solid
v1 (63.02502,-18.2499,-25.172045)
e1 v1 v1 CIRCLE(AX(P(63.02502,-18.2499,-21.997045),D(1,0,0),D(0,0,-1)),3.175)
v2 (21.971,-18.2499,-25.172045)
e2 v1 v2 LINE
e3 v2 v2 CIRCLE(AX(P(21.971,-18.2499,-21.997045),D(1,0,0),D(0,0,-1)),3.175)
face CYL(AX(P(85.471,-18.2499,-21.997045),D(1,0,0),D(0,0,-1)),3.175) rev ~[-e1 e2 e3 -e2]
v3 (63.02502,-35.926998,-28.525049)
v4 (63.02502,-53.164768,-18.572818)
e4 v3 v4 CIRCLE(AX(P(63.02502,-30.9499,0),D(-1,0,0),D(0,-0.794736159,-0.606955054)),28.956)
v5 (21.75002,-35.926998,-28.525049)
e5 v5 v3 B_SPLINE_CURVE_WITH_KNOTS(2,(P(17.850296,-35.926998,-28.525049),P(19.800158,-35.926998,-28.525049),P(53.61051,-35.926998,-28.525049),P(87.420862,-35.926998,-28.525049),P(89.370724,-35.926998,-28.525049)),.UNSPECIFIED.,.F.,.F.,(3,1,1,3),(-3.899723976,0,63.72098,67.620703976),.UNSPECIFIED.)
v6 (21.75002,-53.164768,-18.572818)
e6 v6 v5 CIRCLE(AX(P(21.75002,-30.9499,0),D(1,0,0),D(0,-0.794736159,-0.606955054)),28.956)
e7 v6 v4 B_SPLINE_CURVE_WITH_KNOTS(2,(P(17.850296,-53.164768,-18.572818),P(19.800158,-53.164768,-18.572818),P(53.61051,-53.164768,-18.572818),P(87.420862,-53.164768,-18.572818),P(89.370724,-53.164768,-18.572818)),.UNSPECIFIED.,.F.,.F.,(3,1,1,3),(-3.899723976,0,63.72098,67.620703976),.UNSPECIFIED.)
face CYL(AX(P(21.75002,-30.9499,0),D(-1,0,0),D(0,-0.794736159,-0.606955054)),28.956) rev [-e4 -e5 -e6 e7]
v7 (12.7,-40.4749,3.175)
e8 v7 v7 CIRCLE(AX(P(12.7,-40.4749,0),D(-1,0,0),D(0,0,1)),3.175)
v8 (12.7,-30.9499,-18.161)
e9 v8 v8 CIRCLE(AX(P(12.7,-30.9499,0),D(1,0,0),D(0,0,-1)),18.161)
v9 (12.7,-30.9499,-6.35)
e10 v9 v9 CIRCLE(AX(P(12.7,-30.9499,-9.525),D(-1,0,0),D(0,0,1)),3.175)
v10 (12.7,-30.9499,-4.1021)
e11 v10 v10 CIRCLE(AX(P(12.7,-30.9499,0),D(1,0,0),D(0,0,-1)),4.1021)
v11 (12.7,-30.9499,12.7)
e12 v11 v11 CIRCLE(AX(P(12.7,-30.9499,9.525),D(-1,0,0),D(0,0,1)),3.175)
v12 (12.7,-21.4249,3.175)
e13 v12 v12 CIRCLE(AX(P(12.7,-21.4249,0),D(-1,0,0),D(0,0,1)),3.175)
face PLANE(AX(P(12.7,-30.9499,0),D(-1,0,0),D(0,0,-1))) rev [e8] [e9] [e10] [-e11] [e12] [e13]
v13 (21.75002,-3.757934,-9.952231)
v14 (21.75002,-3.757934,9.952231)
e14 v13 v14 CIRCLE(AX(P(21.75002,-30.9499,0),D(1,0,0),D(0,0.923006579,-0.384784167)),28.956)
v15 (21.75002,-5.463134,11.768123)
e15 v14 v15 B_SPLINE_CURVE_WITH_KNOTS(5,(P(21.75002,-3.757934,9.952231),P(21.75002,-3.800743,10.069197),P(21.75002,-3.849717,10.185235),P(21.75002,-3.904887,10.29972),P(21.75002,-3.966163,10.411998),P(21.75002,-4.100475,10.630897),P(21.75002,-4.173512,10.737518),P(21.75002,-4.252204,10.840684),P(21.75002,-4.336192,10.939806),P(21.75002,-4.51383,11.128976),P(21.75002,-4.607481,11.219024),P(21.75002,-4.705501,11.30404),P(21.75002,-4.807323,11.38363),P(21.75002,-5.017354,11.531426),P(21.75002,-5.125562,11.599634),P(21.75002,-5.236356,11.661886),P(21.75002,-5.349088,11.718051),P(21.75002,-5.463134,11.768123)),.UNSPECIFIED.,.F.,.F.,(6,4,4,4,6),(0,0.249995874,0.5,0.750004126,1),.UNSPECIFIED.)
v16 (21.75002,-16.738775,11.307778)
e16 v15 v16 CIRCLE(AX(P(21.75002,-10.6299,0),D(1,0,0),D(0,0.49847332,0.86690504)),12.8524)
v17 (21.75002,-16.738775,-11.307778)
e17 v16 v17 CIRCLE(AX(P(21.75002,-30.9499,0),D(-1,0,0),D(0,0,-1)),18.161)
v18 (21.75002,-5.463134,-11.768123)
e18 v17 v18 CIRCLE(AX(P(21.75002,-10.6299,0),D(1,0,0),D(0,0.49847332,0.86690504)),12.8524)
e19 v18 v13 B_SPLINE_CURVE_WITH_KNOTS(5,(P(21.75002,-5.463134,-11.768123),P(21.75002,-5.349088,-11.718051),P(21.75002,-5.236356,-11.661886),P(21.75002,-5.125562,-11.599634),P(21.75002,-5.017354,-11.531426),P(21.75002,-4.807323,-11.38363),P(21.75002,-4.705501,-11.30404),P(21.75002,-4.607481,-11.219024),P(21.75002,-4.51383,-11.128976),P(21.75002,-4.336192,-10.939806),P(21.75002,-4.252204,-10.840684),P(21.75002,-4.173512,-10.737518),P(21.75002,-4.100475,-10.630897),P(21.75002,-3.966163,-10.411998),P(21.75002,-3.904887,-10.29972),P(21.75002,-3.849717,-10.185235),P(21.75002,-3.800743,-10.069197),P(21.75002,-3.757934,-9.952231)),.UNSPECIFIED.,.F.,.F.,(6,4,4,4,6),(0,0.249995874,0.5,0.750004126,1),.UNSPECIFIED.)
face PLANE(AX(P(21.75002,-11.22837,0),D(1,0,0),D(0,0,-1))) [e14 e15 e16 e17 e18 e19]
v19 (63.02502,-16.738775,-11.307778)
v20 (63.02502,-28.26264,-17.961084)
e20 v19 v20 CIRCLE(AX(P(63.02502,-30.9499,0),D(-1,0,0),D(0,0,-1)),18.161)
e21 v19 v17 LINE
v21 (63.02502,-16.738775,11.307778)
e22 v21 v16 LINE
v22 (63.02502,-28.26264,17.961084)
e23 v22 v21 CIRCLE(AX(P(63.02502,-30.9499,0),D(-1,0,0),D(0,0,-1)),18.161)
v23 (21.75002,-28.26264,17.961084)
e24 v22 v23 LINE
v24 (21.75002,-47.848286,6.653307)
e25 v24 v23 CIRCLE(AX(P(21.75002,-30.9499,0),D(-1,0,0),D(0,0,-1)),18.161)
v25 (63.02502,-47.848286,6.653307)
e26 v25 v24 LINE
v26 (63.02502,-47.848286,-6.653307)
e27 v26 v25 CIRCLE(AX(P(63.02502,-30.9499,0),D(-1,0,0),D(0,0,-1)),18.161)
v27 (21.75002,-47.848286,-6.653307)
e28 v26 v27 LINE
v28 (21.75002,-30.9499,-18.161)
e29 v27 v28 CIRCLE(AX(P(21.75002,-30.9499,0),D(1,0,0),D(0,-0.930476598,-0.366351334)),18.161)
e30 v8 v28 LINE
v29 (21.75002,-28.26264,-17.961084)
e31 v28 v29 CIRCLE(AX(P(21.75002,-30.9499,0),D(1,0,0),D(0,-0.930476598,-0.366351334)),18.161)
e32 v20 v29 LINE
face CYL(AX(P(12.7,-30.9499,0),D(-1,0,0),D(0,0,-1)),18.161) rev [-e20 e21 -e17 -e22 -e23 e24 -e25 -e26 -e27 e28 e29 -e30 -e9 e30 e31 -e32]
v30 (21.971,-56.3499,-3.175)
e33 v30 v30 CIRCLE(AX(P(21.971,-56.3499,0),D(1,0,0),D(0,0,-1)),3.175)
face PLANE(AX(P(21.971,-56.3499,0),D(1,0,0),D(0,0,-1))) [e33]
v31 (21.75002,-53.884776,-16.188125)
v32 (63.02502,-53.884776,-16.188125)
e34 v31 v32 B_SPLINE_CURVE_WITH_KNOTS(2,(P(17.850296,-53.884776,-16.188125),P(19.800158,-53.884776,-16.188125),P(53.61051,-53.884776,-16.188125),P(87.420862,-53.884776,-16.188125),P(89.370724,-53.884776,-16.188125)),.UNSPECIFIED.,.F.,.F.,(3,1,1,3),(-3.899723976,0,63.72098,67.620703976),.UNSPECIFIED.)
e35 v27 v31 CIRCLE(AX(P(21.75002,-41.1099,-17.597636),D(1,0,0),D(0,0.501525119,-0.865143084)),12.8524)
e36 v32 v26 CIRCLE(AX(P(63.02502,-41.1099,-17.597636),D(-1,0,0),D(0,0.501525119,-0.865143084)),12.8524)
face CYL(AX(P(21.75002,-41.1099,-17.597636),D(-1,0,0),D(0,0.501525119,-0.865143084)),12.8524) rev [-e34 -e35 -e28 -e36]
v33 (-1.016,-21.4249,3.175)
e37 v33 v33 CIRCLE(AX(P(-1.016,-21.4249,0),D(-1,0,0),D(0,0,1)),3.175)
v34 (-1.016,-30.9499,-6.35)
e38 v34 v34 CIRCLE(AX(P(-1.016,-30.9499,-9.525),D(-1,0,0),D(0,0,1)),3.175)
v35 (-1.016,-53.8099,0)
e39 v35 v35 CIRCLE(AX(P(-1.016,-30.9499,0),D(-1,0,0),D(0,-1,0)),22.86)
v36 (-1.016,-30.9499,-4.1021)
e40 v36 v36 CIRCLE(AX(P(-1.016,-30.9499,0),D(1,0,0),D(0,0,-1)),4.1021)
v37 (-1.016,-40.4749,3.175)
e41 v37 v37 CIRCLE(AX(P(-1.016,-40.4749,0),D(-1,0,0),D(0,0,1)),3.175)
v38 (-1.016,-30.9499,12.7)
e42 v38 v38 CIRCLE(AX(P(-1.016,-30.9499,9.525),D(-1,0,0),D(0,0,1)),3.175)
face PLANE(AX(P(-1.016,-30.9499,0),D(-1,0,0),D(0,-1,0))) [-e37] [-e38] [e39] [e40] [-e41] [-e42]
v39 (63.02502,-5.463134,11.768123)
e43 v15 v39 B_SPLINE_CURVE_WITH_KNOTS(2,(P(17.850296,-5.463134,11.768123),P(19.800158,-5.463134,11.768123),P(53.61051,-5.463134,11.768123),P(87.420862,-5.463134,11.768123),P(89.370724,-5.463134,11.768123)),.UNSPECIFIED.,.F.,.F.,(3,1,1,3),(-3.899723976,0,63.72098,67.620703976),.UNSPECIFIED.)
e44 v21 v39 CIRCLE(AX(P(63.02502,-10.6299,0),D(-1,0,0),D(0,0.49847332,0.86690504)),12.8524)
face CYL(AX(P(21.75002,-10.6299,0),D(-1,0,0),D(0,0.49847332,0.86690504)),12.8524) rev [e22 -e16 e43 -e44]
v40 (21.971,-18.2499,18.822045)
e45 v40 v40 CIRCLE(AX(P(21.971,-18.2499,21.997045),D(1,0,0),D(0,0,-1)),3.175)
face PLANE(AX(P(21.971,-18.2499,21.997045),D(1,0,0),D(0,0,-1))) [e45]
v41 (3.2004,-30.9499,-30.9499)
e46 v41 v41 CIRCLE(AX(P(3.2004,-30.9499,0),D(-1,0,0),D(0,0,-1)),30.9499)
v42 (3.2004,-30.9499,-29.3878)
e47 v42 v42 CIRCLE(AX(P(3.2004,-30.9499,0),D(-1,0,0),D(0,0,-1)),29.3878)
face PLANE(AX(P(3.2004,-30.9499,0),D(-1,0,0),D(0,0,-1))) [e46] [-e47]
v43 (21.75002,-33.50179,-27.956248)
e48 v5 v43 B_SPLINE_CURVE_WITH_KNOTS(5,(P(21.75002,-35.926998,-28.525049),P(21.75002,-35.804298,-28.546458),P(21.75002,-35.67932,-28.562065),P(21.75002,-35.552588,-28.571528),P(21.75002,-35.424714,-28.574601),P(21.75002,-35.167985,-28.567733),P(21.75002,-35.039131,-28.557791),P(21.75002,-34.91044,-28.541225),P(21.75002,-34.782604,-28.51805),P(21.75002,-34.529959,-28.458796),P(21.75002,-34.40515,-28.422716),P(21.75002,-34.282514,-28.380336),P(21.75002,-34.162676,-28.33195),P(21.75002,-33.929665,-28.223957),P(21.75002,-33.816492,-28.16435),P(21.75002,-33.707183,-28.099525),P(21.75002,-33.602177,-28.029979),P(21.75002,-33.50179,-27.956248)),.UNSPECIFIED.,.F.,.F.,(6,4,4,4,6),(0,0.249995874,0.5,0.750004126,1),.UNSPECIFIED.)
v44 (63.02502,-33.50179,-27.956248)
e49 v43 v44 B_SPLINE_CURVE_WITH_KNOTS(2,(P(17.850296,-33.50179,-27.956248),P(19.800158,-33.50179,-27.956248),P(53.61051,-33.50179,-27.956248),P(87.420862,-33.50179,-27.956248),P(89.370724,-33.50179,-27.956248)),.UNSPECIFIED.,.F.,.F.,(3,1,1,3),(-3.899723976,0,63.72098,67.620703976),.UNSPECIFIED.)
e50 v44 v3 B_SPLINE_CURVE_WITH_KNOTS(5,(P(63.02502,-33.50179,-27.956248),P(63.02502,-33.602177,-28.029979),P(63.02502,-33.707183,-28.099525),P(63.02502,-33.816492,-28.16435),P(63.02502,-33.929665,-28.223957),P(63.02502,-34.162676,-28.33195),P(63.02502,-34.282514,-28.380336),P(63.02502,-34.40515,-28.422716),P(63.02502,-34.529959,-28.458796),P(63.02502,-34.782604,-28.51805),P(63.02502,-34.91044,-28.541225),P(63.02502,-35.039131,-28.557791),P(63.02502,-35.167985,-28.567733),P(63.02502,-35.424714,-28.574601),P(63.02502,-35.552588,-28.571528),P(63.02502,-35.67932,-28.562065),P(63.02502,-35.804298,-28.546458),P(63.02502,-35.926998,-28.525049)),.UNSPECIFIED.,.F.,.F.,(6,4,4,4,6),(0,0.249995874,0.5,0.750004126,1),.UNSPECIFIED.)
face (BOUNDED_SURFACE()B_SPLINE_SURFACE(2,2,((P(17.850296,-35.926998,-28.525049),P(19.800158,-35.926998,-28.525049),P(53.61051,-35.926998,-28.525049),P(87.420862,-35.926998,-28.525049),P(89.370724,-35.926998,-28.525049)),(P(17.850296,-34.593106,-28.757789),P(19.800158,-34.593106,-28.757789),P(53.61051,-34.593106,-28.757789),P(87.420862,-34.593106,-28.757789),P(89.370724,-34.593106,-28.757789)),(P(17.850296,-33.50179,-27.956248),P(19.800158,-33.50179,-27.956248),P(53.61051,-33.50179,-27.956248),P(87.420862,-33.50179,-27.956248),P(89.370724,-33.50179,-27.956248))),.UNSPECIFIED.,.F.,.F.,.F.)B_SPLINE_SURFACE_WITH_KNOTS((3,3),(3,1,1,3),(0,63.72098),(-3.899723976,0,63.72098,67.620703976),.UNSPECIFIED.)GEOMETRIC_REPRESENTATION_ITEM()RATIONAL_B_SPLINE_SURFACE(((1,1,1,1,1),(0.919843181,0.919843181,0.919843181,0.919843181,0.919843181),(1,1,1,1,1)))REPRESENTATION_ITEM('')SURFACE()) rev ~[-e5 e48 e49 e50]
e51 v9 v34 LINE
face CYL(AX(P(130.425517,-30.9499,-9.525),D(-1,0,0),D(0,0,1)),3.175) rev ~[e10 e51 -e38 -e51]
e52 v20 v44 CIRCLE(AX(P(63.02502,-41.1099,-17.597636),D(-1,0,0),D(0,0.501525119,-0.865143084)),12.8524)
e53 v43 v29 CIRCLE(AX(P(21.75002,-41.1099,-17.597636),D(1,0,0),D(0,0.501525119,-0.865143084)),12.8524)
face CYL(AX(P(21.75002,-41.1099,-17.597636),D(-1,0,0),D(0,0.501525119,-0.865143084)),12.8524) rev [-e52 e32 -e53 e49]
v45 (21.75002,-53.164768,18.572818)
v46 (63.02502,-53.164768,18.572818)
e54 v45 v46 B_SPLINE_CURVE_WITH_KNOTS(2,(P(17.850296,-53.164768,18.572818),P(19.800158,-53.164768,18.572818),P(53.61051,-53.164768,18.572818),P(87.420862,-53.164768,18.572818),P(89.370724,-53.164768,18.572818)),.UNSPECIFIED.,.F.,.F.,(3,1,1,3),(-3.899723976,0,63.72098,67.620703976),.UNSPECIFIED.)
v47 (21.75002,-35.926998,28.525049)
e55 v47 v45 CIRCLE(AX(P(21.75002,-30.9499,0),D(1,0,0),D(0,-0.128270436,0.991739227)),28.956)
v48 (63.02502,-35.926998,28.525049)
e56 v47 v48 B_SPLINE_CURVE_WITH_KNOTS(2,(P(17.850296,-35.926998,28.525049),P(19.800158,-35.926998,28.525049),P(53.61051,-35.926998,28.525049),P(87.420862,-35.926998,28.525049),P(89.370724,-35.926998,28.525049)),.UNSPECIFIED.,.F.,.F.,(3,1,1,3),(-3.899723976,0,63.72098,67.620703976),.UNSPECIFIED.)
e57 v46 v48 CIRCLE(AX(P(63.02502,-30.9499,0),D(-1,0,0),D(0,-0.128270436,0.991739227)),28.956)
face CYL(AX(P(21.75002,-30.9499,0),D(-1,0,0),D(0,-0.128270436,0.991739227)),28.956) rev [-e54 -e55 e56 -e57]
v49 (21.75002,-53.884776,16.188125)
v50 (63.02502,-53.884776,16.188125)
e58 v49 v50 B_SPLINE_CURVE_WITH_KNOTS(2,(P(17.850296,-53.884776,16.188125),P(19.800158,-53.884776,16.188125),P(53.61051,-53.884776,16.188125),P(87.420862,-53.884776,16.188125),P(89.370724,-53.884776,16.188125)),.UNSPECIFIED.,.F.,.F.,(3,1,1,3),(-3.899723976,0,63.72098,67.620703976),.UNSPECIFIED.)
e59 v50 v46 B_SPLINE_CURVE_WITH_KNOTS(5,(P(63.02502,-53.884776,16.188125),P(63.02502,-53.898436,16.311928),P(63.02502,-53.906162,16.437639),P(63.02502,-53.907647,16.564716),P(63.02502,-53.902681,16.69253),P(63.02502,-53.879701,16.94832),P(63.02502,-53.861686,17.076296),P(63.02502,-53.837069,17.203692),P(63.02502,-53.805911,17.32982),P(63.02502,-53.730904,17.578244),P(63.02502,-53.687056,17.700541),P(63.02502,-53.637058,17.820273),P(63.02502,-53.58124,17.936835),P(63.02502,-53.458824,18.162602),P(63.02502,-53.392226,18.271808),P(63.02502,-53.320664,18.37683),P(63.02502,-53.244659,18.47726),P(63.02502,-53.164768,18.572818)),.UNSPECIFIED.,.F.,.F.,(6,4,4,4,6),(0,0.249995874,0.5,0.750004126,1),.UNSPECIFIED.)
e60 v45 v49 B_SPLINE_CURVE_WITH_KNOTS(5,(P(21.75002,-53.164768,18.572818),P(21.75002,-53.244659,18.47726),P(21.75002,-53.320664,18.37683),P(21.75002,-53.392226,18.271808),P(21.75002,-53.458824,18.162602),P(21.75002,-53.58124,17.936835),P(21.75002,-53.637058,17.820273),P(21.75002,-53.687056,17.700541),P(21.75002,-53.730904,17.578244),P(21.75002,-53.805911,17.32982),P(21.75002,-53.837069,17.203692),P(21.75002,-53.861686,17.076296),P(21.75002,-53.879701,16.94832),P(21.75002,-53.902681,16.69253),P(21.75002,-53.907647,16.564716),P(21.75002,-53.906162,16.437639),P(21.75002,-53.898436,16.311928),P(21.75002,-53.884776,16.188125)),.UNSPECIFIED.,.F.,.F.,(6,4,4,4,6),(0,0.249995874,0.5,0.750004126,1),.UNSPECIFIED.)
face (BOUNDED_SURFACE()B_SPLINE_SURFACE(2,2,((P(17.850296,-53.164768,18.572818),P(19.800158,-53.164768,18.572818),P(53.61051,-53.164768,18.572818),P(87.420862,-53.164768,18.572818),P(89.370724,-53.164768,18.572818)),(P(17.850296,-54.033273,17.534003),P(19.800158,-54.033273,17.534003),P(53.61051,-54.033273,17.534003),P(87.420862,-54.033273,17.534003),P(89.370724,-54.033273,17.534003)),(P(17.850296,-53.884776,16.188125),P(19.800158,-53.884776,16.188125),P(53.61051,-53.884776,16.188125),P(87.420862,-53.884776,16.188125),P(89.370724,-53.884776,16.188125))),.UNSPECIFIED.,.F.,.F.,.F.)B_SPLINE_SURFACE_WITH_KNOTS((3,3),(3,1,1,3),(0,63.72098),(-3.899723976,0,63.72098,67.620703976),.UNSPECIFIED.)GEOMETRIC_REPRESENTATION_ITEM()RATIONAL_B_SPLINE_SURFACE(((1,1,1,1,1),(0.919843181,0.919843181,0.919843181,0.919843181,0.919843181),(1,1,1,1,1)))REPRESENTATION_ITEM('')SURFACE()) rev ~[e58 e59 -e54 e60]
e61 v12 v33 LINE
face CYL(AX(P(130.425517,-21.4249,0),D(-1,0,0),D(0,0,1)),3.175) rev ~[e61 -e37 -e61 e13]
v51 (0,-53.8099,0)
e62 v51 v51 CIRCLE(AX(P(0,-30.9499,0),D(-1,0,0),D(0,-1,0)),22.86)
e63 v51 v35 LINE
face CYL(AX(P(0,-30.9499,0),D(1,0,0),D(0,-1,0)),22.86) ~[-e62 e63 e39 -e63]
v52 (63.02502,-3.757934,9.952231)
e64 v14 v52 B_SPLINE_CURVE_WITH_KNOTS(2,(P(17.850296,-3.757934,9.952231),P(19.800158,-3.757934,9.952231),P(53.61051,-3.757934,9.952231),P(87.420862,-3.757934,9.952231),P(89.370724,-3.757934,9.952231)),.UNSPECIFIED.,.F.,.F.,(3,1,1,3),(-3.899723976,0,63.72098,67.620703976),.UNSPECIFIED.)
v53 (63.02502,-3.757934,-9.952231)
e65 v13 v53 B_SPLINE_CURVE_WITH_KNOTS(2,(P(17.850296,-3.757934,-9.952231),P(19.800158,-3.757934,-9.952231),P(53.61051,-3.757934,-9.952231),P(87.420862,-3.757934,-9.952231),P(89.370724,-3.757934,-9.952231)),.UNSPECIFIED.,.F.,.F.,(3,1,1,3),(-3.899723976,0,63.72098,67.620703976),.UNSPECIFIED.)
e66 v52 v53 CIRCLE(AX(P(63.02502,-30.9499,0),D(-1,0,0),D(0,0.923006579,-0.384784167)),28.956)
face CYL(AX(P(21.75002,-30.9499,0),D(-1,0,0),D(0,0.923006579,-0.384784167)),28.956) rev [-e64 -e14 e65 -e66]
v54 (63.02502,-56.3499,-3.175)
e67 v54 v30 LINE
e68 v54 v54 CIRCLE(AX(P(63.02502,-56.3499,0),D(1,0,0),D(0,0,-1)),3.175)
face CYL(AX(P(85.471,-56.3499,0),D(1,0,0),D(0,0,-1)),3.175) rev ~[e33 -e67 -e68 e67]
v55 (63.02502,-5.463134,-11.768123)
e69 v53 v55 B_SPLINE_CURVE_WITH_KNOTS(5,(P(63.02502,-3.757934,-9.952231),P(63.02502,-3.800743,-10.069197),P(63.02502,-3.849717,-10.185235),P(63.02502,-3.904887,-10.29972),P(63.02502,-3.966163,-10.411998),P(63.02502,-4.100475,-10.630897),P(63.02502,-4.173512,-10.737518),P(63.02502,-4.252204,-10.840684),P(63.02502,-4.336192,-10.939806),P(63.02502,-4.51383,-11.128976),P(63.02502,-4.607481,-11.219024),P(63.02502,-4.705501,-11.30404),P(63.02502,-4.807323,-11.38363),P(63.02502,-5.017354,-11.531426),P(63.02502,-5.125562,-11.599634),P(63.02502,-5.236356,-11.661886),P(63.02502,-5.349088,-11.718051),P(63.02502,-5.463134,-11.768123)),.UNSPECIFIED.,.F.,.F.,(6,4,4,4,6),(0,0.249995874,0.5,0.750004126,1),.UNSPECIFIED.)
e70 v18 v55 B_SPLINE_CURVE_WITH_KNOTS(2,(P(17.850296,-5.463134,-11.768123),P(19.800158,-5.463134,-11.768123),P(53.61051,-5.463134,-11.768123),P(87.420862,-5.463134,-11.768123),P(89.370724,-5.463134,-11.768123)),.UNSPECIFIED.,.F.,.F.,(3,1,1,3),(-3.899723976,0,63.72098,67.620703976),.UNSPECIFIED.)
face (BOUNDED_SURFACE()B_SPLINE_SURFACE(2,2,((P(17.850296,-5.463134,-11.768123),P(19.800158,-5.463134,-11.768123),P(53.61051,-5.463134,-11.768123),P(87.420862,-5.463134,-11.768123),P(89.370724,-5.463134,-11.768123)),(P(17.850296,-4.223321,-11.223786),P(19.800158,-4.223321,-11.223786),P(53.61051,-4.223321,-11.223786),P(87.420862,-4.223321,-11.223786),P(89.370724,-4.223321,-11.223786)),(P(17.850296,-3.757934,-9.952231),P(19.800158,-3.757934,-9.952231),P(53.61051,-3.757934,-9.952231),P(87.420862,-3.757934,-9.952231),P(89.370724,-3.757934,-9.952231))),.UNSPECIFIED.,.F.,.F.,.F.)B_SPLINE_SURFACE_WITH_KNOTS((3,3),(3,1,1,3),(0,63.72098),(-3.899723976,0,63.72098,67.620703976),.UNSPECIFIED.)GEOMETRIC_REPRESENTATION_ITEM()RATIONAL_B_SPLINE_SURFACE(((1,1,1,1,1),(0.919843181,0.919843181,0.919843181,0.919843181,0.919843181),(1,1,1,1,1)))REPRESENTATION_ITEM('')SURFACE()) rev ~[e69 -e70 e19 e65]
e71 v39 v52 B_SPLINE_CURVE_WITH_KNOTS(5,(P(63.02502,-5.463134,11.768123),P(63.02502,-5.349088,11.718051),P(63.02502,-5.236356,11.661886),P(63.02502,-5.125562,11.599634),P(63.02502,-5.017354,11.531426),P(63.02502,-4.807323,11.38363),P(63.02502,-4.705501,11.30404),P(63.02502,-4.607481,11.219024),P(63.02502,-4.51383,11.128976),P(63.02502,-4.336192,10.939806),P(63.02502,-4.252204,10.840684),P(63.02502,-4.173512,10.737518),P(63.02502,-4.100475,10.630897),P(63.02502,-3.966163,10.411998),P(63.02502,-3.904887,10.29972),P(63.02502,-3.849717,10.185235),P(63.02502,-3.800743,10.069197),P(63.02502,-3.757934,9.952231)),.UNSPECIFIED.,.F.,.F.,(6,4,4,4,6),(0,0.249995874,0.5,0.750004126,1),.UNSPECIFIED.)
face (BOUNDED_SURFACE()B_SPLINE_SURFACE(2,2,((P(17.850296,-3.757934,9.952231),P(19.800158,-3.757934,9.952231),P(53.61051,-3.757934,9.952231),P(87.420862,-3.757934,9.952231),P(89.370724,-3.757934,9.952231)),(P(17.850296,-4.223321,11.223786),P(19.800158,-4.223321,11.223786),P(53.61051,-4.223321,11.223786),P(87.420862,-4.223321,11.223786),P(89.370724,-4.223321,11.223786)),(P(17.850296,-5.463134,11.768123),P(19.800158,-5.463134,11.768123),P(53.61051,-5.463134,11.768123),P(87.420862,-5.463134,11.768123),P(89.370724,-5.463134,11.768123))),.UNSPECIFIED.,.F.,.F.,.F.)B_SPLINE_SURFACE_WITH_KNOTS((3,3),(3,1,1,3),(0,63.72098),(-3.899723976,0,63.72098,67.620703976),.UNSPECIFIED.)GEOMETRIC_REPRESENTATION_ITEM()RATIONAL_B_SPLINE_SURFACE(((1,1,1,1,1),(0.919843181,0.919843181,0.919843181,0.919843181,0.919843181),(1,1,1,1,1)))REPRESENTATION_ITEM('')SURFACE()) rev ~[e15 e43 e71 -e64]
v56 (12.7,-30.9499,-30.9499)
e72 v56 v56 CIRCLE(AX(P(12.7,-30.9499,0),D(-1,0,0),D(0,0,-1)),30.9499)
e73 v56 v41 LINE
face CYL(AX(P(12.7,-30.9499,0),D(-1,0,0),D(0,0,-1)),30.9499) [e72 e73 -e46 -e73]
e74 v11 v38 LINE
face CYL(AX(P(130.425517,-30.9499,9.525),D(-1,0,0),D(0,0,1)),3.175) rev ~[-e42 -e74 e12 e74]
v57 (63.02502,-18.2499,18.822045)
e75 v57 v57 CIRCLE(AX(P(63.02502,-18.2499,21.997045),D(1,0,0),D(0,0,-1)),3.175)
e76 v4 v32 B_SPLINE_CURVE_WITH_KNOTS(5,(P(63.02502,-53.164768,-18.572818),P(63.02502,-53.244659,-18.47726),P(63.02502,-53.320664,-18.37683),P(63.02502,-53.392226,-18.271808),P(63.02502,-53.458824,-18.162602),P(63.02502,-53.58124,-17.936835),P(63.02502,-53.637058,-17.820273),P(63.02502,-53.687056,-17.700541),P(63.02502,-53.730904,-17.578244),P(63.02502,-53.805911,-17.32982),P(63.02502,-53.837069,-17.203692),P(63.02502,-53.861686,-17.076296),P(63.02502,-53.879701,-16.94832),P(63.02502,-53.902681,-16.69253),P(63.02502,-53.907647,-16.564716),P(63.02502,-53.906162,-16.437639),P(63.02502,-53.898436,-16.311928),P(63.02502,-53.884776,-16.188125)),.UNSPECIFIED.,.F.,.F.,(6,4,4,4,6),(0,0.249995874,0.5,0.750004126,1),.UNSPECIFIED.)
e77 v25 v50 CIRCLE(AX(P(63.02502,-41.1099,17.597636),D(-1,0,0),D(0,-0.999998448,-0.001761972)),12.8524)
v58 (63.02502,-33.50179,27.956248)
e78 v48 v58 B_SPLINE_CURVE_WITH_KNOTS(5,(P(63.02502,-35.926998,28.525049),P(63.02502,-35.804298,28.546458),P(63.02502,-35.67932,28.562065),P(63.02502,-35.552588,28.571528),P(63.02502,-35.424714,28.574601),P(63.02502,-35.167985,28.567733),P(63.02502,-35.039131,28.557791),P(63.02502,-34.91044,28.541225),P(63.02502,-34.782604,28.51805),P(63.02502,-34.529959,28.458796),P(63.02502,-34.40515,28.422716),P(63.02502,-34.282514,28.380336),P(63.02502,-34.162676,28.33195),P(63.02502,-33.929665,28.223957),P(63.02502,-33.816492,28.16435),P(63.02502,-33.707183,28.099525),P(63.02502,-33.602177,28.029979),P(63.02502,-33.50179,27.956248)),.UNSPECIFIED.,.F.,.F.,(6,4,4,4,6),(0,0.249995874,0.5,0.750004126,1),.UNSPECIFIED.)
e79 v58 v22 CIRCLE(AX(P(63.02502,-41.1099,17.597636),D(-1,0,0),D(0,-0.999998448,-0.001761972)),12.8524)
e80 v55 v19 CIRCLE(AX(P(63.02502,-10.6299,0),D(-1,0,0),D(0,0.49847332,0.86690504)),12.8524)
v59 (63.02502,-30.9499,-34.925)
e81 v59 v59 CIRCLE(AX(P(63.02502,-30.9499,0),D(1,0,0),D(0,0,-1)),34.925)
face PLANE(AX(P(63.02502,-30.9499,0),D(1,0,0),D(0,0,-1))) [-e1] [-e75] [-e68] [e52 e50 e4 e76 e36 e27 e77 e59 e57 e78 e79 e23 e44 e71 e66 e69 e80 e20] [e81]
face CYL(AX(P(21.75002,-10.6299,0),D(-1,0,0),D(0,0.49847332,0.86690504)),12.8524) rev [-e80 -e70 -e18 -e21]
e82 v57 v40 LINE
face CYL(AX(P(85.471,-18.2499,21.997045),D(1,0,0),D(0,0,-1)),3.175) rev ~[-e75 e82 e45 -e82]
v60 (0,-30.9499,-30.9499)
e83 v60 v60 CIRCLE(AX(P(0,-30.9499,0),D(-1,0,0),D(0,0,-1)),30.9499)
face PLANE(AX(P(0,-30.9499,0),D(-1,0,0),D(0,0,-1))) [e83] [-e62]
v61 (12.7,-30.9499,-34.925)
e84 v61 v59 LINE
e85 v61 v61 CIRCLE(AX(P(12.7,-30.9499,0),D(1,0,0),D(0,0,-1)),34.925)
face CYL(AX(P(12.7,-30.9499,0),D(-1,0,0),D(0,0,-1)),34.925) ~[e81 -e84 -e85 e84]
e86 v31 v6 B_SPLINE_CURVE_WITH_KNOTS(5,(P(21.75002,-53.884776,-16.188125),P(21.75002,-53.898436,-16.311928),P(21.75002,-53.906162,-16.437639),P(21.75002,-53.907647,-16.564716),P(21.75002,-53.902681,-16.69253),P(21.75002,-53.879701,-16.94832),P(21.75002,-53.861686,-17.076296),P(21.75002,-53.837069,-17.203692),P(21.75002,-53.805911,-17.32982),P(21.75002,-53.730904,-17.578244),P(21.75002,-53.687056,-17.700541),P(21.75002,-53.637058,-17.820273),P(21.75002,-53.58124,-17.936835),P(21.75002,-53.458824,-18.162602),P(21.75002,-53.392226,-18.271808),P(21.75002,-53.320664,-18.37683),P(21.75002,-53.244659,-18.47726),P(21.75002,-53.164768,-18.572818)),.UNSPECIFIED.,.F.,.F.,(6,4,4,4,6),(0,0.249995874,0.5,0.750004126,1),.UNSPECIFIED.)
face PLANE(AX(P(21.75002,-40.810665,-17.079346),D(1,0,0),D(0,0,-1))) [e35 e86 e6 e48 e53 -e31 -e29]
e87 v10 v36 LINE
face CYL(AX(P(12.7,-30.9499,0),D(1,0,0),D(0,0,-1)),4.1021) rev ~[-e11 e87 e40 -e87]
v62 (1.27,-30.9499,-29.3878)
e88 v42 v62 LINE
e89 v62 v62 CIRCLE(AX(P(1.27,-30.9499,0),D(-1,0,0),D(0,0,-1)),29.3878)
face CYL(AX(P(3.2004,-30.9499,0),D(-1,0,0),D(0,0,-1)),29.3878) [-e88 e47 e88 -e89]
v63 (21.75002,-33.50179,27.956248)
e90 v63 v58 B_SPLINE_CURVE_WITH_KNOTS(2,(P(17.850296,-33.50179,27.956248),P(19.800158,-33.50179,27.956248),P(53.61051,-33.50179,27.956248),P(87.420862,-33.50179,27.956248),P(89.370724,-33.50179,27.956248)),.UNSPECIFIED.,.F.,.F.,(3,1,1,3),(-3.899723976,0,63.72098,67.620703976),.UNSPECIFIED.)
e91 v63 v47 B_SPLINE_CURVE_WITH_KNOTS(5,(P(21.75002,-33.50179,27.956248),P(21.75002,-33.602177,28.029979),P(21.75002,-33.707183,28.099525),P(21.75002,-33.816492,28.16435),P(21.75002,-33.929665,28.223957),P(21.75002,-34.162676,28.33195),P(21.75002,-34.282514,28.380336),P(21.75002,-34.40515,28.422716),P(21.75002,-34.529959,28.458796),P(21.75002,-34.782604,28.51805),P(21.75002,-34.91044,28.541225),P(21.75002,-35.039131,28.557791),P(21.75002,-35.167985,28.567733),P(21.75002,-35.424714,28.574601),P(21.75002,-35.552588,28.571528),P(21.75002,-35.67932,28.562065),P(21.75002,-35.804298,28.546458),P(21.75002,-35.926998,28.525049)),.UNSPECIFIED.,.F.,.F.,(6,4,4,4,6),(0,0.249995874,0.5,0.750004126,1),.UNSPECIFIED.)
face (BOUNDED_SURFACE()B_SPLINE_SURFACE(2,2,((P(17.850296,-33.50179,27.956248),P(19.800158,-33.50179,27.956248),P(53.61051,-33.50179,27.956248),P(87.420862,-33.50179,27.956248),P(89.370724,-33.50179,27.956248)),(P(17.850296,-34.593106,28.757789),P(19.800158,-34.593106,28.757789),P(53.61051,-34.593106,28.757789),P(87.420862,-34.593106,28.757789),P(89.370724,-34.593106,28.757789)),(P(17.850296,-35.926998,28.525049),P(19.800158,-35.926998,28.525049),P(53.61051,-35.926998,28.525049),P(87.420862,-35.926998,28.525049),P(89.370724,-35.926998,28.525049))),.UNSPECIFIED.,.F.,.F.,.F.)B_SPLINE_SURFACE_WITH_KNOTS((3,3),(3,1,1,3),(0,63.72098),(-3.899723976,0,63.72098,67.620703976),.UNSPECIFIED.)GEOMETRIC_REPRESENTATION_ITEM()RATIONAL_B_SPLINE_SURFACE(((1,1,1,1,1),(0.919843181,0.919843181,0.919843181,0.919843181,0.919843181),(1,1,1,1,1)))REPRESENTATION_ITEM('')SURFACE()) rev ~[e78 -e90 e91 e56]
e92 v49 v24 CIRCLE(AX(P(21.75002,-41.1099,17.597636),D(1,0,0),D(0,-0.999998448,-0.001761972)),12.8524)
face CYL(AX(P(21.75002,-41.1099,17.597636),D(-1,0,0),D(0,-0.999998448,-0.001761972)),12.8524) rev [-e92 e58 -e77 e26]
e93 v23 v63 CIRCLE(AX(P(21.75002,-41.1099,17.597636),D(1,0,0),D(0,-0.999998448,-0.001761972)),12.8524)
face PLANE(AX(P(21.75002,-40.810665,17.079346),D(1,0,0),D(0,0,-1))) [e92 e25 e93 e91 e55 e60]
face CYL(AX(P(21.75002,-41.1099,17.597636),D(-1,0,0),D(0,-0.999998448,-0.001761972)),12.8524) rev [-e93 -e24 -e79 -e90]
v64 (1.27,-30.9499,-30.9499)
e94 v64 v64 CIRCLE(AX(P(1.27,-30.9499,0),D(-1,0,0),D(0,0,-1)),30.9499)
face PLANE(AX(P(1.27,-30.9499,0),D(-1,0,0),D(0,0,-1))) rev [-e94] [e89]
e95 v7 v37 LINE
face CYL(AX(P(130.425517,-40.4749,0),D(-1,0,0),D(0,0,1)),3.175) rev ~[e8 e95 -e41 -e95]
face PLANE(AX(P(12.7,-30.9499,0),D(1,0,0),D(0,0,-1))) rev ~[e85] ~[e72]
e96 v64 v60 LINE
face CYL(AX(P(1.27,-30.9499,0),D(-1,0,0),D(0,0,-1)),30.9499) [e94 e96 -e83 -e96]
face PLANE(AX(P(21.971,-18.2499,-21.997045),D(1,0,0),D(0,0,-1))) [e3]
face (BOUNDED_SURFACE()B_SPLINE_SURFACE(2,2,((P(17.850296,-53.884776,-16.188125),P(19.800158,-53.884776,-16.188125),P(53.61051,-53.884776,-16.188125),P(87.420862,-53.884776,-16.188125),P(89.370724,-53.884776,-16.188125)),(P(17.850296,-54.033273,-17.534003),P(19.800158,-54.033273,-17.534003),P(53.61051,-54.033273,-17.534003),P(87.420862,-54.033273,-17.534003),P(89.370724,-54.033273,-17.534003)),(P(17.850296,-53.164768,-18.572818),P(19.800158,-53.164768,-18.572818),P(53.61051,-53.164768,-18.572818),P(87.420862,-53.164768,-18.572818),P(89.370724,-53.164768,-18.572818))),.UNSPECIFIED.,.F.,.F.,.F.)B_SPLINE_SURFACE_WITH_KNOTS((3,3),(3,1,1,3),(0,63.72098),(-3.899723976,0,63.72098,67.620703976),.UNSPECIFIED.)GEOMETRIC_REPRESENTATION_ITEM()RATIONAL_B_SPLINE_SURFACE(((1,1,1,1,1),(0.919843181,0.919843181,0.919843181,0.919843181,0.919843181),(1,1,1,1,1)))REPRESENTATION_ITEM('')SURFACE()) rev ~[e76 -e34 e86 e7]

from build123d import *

# Parameters (mm, degrees)
SKETCH4_R                  = 34.925
SKETCH4_R_2                = 18.161
BOSS_EXTRUDE1_DEPTH        = 72.771
CUT_EXTRUDE2_REACH         = 137.172
CUT_EXTRUDE2_START         = 21.75002
TRIPOD_WALLS_R             = 3.175
SKETCH12_R                 = 3.175
CUT_EXTRUDE3_DEPTH         = 63.5
CUT_EXTRUDE4_START         = -22.44598
SKETCH13_R                 = 34.925
CUT_EXTRUDE4_DEPTH         = 22.44598
SKETCH16_R                 = 22.86
COMPENSATING_SPACING_DEPTH = 1.016
F_1_4_0_2500_DOWEL_HOLE1_D = 6.35
BOLT_CIRCLE_PATTERN_2_R    = 4.1021
F_5_16_CLEARNCE_DEPTH      = 13.716


with BuildPart() as part:
    # Sketch2 → Revolve1 (revolve)
    with BuildSketch(Plane.XY, mode=Mode.PRIVATE) as revolve1_sk:
        Polygon((0, 0), (0, -30.9499), (12.7, -30.9499), (12.7, 0), (3.2004, 0), (3.2004, -1.5621), (1.27, -1.5621), (1.27, 0), align=None)
    revolve(revolve1_sk.sketch.rotate(Axis((11.964521893, -30.9499, 0), (-1, 0, 0)), 90), axis=Axis((11.964521893, -30.9499, 0), (-1, 0, 0)))

    # Sketch4 → Boss-Extrude1 (add)
    with BuildSketch(Plane(origin=(12.7, 0, 0), x_dir=(0, 0, -1), z_dir=(1, 0, 0))):
        with Locations((0, -30.9499)):
            Circle(SKETCH4_R)
        with Locations((0, -30.9499)):
            Circle(SKETCH4_R_2, mode=Mode.SUBTRACT)
    extrude(amount=BOSS_EXTRUDE1_DEPTH)

    # Sketch5 → Cut-Extrude2 (cut, up to next)
    with BuildSketch(Plane(origin=(0, 0, 0), x_dir=(0, 0, -1), z_dir=(1, 0, 0)).offset(CUT_EXTRUDE2_START), mode=Mode.PRIVATE) as cut_extrude2_sk1:
        with BuildLine():
            ThreePointArc((-11.141810341, -4.2233215), (0, -23.4823), (11.141810341, -4.2233215))
            ThreePointArc((11.141810341, -4.2233215), (0, -1.9939), (-11.141810341, -4.2233215))
        make_face()
    cut_extrude2_tool1 = extrude(cut_extrude2_sk1.sketch, amount=CUT_EXTRUDE2_REACH, mode=Mode.PRIVATE) & part.part
    # Sketch5 → Cut-Extrude2 (cut, up to next)
    with BuildSketch(Plane(origin=(0, 0, 0), x_dir=(0, 0, -1), z_dir=(1, 0, 0)).offset(CUT_EXTRUDE2_START), mode=Mode.PRIVATE) as cut_extrude2_sk2:
        with BuildLine():
            ThreePointArc((-28.716801071, -34.664098733), (-25.076631449, -45.427900247), (-17.57499054, -53.962280223))
            ThreePointArc((-17.57499054, -53.962280223), (-6.467131268, -34.683700064), (-28.716801071, -34.664098733))
        make_face()
    cut_extrude2_tool2 = extrude(cut_extrude2_sk2.sketch, amount=CUT_EXTRUDE2_REACH, mode=Mode.PRIVATE) & part.part
    # Sketch5 → Cut-Extrude2 (cut, up to next)
    with BuildSketch(Plane(origin=(0, 0, 0), x_dir=(0, 0, -1), z_dir=(1, 0, 0)).offset(CUT_EXTRUDE2_START), mode=Mode.PRIVATE) as cut_extrude2_sk3:
        with BuildLine():
            ThreePointArc((28.716801071, -34.664098733), (6.467131268, -34.683700064), (17.57499054, -53.962280223))
            ThreePointArc((17.57499054, -53.962280223), (25.076631449, -45.427900247), (28.716801071, -34.664098733))
        make_face()
    cut_extrude2_tool3 = extrude(cut_extrude2_sk3.sketch, amount=CUT_EXTRUDE2_REACH, mode=Mode.PRIVATE) & part.part
    add(cut_extrude2_tool1.solids().sort_by_distance((21.75002, -12.135894, 0))[0], mode=Mode.SUBTRACT)
    add(cut_extrude2_tool2.solids().sort_by_distance((21.75002, -40.356903, 16.293407))[0], mode=Mode.SUBTRACT)
    add(cut_extrude2_tool3.solids().sort_by_distance((21.75002, -40.356903, -16.293407))[0], mode=Mode.SUBTRACT)

    # Tripod walls
    tripod_walls_edges = [part.edges().sort_by_distance(p)[0] for p in [
        (53.61051, -4.2233215, 11.141810341),
        (53.61051, -4.2233215, -11.141810341),
        (53.61051, -53.962280223, 17.57499054),
        (53.61051, -34.664098733, 28.716801071),
        (53.61051, -34.664098733, -28.716801071),
        (53.61051, -53.962280223, -17.57499054),
    ]]
    fillet(tripod_walls_edges, radius=TRIPOD_WALLS_R)

    # Sketch12 → Cut-Extrude3 (cut)
    with BuildSketch(Plane(origin=(85.471, 0, 0), x_dir=(0, 0, -1), z_dir=(1, 0, 0))):
        with Locations((-21.997045256, -18.2499)):
            Circle(SKETCH12_R)
        with Locations((21.997045256, -18.2499)):
            Circle(SKETCH12_R)
        with Locations((0, -56.3499)):
            Circle(SKETCH12_R)
    extrude(amount=-CUT_EXTRUDE3_DEPTH, mode=Mode.SUBTRACT)

    # Sketch13 → Cut-Extrude4 (cut)
    with BuildSketch(Plane(origin=(85.471, 0, 0), x_dir=(0, 0, -1), z_dir=(1, 0, 0)).offset(CUT_EXTRUDE4_START)):
        with Locations((0, -30.9499)):
            Circle(SKETCH13_R)
    extrude(amount=CUT_EXTRUDE4_DEPTH, mode=Mode.SUBTRACT)

    # Sketch16 → Compensating Spacing (add)
    with BuildSketch(Plane.ZY):
        with Locations(Location((0, -30.9499, 0), (0, 0, 270))):
            Circle(SKETCH16_R)
    extrude(amount=COMPENSATING_SPACING_DEPTH)

    # 1/4 (0.2500) Dowel Hole1 (through all)
    with Locations(Plane(origin=(12.7, 0, 0), x_dir=(0, 0, -1), z_dir=(1, 0, 0))):
        with Locations((0, -21.4249), (9.525, -30.9499), (0, -40.4749), (-9.525, -30.9499)):
            Hole(F_1_4_0_2500_DOWEL_HOLE1_D / 2)

    # Bolt Circle Pattern<2> → 5/16 Clearnce (cut)
    with BuildSketch(Plane(origin=(12.7, 0, 0), x_dir=(0, 0, -1), z_dir=(1, 0, 0))):
        with Locations((0, -30.9499)):
            Circle(BOLT_CIRCLE_PATTERN_2_R)
    extrude(amount=-F_5_16_CLEARNCE_DEPTH, mode=Mode.SUBTRACT)


solid = part.part
